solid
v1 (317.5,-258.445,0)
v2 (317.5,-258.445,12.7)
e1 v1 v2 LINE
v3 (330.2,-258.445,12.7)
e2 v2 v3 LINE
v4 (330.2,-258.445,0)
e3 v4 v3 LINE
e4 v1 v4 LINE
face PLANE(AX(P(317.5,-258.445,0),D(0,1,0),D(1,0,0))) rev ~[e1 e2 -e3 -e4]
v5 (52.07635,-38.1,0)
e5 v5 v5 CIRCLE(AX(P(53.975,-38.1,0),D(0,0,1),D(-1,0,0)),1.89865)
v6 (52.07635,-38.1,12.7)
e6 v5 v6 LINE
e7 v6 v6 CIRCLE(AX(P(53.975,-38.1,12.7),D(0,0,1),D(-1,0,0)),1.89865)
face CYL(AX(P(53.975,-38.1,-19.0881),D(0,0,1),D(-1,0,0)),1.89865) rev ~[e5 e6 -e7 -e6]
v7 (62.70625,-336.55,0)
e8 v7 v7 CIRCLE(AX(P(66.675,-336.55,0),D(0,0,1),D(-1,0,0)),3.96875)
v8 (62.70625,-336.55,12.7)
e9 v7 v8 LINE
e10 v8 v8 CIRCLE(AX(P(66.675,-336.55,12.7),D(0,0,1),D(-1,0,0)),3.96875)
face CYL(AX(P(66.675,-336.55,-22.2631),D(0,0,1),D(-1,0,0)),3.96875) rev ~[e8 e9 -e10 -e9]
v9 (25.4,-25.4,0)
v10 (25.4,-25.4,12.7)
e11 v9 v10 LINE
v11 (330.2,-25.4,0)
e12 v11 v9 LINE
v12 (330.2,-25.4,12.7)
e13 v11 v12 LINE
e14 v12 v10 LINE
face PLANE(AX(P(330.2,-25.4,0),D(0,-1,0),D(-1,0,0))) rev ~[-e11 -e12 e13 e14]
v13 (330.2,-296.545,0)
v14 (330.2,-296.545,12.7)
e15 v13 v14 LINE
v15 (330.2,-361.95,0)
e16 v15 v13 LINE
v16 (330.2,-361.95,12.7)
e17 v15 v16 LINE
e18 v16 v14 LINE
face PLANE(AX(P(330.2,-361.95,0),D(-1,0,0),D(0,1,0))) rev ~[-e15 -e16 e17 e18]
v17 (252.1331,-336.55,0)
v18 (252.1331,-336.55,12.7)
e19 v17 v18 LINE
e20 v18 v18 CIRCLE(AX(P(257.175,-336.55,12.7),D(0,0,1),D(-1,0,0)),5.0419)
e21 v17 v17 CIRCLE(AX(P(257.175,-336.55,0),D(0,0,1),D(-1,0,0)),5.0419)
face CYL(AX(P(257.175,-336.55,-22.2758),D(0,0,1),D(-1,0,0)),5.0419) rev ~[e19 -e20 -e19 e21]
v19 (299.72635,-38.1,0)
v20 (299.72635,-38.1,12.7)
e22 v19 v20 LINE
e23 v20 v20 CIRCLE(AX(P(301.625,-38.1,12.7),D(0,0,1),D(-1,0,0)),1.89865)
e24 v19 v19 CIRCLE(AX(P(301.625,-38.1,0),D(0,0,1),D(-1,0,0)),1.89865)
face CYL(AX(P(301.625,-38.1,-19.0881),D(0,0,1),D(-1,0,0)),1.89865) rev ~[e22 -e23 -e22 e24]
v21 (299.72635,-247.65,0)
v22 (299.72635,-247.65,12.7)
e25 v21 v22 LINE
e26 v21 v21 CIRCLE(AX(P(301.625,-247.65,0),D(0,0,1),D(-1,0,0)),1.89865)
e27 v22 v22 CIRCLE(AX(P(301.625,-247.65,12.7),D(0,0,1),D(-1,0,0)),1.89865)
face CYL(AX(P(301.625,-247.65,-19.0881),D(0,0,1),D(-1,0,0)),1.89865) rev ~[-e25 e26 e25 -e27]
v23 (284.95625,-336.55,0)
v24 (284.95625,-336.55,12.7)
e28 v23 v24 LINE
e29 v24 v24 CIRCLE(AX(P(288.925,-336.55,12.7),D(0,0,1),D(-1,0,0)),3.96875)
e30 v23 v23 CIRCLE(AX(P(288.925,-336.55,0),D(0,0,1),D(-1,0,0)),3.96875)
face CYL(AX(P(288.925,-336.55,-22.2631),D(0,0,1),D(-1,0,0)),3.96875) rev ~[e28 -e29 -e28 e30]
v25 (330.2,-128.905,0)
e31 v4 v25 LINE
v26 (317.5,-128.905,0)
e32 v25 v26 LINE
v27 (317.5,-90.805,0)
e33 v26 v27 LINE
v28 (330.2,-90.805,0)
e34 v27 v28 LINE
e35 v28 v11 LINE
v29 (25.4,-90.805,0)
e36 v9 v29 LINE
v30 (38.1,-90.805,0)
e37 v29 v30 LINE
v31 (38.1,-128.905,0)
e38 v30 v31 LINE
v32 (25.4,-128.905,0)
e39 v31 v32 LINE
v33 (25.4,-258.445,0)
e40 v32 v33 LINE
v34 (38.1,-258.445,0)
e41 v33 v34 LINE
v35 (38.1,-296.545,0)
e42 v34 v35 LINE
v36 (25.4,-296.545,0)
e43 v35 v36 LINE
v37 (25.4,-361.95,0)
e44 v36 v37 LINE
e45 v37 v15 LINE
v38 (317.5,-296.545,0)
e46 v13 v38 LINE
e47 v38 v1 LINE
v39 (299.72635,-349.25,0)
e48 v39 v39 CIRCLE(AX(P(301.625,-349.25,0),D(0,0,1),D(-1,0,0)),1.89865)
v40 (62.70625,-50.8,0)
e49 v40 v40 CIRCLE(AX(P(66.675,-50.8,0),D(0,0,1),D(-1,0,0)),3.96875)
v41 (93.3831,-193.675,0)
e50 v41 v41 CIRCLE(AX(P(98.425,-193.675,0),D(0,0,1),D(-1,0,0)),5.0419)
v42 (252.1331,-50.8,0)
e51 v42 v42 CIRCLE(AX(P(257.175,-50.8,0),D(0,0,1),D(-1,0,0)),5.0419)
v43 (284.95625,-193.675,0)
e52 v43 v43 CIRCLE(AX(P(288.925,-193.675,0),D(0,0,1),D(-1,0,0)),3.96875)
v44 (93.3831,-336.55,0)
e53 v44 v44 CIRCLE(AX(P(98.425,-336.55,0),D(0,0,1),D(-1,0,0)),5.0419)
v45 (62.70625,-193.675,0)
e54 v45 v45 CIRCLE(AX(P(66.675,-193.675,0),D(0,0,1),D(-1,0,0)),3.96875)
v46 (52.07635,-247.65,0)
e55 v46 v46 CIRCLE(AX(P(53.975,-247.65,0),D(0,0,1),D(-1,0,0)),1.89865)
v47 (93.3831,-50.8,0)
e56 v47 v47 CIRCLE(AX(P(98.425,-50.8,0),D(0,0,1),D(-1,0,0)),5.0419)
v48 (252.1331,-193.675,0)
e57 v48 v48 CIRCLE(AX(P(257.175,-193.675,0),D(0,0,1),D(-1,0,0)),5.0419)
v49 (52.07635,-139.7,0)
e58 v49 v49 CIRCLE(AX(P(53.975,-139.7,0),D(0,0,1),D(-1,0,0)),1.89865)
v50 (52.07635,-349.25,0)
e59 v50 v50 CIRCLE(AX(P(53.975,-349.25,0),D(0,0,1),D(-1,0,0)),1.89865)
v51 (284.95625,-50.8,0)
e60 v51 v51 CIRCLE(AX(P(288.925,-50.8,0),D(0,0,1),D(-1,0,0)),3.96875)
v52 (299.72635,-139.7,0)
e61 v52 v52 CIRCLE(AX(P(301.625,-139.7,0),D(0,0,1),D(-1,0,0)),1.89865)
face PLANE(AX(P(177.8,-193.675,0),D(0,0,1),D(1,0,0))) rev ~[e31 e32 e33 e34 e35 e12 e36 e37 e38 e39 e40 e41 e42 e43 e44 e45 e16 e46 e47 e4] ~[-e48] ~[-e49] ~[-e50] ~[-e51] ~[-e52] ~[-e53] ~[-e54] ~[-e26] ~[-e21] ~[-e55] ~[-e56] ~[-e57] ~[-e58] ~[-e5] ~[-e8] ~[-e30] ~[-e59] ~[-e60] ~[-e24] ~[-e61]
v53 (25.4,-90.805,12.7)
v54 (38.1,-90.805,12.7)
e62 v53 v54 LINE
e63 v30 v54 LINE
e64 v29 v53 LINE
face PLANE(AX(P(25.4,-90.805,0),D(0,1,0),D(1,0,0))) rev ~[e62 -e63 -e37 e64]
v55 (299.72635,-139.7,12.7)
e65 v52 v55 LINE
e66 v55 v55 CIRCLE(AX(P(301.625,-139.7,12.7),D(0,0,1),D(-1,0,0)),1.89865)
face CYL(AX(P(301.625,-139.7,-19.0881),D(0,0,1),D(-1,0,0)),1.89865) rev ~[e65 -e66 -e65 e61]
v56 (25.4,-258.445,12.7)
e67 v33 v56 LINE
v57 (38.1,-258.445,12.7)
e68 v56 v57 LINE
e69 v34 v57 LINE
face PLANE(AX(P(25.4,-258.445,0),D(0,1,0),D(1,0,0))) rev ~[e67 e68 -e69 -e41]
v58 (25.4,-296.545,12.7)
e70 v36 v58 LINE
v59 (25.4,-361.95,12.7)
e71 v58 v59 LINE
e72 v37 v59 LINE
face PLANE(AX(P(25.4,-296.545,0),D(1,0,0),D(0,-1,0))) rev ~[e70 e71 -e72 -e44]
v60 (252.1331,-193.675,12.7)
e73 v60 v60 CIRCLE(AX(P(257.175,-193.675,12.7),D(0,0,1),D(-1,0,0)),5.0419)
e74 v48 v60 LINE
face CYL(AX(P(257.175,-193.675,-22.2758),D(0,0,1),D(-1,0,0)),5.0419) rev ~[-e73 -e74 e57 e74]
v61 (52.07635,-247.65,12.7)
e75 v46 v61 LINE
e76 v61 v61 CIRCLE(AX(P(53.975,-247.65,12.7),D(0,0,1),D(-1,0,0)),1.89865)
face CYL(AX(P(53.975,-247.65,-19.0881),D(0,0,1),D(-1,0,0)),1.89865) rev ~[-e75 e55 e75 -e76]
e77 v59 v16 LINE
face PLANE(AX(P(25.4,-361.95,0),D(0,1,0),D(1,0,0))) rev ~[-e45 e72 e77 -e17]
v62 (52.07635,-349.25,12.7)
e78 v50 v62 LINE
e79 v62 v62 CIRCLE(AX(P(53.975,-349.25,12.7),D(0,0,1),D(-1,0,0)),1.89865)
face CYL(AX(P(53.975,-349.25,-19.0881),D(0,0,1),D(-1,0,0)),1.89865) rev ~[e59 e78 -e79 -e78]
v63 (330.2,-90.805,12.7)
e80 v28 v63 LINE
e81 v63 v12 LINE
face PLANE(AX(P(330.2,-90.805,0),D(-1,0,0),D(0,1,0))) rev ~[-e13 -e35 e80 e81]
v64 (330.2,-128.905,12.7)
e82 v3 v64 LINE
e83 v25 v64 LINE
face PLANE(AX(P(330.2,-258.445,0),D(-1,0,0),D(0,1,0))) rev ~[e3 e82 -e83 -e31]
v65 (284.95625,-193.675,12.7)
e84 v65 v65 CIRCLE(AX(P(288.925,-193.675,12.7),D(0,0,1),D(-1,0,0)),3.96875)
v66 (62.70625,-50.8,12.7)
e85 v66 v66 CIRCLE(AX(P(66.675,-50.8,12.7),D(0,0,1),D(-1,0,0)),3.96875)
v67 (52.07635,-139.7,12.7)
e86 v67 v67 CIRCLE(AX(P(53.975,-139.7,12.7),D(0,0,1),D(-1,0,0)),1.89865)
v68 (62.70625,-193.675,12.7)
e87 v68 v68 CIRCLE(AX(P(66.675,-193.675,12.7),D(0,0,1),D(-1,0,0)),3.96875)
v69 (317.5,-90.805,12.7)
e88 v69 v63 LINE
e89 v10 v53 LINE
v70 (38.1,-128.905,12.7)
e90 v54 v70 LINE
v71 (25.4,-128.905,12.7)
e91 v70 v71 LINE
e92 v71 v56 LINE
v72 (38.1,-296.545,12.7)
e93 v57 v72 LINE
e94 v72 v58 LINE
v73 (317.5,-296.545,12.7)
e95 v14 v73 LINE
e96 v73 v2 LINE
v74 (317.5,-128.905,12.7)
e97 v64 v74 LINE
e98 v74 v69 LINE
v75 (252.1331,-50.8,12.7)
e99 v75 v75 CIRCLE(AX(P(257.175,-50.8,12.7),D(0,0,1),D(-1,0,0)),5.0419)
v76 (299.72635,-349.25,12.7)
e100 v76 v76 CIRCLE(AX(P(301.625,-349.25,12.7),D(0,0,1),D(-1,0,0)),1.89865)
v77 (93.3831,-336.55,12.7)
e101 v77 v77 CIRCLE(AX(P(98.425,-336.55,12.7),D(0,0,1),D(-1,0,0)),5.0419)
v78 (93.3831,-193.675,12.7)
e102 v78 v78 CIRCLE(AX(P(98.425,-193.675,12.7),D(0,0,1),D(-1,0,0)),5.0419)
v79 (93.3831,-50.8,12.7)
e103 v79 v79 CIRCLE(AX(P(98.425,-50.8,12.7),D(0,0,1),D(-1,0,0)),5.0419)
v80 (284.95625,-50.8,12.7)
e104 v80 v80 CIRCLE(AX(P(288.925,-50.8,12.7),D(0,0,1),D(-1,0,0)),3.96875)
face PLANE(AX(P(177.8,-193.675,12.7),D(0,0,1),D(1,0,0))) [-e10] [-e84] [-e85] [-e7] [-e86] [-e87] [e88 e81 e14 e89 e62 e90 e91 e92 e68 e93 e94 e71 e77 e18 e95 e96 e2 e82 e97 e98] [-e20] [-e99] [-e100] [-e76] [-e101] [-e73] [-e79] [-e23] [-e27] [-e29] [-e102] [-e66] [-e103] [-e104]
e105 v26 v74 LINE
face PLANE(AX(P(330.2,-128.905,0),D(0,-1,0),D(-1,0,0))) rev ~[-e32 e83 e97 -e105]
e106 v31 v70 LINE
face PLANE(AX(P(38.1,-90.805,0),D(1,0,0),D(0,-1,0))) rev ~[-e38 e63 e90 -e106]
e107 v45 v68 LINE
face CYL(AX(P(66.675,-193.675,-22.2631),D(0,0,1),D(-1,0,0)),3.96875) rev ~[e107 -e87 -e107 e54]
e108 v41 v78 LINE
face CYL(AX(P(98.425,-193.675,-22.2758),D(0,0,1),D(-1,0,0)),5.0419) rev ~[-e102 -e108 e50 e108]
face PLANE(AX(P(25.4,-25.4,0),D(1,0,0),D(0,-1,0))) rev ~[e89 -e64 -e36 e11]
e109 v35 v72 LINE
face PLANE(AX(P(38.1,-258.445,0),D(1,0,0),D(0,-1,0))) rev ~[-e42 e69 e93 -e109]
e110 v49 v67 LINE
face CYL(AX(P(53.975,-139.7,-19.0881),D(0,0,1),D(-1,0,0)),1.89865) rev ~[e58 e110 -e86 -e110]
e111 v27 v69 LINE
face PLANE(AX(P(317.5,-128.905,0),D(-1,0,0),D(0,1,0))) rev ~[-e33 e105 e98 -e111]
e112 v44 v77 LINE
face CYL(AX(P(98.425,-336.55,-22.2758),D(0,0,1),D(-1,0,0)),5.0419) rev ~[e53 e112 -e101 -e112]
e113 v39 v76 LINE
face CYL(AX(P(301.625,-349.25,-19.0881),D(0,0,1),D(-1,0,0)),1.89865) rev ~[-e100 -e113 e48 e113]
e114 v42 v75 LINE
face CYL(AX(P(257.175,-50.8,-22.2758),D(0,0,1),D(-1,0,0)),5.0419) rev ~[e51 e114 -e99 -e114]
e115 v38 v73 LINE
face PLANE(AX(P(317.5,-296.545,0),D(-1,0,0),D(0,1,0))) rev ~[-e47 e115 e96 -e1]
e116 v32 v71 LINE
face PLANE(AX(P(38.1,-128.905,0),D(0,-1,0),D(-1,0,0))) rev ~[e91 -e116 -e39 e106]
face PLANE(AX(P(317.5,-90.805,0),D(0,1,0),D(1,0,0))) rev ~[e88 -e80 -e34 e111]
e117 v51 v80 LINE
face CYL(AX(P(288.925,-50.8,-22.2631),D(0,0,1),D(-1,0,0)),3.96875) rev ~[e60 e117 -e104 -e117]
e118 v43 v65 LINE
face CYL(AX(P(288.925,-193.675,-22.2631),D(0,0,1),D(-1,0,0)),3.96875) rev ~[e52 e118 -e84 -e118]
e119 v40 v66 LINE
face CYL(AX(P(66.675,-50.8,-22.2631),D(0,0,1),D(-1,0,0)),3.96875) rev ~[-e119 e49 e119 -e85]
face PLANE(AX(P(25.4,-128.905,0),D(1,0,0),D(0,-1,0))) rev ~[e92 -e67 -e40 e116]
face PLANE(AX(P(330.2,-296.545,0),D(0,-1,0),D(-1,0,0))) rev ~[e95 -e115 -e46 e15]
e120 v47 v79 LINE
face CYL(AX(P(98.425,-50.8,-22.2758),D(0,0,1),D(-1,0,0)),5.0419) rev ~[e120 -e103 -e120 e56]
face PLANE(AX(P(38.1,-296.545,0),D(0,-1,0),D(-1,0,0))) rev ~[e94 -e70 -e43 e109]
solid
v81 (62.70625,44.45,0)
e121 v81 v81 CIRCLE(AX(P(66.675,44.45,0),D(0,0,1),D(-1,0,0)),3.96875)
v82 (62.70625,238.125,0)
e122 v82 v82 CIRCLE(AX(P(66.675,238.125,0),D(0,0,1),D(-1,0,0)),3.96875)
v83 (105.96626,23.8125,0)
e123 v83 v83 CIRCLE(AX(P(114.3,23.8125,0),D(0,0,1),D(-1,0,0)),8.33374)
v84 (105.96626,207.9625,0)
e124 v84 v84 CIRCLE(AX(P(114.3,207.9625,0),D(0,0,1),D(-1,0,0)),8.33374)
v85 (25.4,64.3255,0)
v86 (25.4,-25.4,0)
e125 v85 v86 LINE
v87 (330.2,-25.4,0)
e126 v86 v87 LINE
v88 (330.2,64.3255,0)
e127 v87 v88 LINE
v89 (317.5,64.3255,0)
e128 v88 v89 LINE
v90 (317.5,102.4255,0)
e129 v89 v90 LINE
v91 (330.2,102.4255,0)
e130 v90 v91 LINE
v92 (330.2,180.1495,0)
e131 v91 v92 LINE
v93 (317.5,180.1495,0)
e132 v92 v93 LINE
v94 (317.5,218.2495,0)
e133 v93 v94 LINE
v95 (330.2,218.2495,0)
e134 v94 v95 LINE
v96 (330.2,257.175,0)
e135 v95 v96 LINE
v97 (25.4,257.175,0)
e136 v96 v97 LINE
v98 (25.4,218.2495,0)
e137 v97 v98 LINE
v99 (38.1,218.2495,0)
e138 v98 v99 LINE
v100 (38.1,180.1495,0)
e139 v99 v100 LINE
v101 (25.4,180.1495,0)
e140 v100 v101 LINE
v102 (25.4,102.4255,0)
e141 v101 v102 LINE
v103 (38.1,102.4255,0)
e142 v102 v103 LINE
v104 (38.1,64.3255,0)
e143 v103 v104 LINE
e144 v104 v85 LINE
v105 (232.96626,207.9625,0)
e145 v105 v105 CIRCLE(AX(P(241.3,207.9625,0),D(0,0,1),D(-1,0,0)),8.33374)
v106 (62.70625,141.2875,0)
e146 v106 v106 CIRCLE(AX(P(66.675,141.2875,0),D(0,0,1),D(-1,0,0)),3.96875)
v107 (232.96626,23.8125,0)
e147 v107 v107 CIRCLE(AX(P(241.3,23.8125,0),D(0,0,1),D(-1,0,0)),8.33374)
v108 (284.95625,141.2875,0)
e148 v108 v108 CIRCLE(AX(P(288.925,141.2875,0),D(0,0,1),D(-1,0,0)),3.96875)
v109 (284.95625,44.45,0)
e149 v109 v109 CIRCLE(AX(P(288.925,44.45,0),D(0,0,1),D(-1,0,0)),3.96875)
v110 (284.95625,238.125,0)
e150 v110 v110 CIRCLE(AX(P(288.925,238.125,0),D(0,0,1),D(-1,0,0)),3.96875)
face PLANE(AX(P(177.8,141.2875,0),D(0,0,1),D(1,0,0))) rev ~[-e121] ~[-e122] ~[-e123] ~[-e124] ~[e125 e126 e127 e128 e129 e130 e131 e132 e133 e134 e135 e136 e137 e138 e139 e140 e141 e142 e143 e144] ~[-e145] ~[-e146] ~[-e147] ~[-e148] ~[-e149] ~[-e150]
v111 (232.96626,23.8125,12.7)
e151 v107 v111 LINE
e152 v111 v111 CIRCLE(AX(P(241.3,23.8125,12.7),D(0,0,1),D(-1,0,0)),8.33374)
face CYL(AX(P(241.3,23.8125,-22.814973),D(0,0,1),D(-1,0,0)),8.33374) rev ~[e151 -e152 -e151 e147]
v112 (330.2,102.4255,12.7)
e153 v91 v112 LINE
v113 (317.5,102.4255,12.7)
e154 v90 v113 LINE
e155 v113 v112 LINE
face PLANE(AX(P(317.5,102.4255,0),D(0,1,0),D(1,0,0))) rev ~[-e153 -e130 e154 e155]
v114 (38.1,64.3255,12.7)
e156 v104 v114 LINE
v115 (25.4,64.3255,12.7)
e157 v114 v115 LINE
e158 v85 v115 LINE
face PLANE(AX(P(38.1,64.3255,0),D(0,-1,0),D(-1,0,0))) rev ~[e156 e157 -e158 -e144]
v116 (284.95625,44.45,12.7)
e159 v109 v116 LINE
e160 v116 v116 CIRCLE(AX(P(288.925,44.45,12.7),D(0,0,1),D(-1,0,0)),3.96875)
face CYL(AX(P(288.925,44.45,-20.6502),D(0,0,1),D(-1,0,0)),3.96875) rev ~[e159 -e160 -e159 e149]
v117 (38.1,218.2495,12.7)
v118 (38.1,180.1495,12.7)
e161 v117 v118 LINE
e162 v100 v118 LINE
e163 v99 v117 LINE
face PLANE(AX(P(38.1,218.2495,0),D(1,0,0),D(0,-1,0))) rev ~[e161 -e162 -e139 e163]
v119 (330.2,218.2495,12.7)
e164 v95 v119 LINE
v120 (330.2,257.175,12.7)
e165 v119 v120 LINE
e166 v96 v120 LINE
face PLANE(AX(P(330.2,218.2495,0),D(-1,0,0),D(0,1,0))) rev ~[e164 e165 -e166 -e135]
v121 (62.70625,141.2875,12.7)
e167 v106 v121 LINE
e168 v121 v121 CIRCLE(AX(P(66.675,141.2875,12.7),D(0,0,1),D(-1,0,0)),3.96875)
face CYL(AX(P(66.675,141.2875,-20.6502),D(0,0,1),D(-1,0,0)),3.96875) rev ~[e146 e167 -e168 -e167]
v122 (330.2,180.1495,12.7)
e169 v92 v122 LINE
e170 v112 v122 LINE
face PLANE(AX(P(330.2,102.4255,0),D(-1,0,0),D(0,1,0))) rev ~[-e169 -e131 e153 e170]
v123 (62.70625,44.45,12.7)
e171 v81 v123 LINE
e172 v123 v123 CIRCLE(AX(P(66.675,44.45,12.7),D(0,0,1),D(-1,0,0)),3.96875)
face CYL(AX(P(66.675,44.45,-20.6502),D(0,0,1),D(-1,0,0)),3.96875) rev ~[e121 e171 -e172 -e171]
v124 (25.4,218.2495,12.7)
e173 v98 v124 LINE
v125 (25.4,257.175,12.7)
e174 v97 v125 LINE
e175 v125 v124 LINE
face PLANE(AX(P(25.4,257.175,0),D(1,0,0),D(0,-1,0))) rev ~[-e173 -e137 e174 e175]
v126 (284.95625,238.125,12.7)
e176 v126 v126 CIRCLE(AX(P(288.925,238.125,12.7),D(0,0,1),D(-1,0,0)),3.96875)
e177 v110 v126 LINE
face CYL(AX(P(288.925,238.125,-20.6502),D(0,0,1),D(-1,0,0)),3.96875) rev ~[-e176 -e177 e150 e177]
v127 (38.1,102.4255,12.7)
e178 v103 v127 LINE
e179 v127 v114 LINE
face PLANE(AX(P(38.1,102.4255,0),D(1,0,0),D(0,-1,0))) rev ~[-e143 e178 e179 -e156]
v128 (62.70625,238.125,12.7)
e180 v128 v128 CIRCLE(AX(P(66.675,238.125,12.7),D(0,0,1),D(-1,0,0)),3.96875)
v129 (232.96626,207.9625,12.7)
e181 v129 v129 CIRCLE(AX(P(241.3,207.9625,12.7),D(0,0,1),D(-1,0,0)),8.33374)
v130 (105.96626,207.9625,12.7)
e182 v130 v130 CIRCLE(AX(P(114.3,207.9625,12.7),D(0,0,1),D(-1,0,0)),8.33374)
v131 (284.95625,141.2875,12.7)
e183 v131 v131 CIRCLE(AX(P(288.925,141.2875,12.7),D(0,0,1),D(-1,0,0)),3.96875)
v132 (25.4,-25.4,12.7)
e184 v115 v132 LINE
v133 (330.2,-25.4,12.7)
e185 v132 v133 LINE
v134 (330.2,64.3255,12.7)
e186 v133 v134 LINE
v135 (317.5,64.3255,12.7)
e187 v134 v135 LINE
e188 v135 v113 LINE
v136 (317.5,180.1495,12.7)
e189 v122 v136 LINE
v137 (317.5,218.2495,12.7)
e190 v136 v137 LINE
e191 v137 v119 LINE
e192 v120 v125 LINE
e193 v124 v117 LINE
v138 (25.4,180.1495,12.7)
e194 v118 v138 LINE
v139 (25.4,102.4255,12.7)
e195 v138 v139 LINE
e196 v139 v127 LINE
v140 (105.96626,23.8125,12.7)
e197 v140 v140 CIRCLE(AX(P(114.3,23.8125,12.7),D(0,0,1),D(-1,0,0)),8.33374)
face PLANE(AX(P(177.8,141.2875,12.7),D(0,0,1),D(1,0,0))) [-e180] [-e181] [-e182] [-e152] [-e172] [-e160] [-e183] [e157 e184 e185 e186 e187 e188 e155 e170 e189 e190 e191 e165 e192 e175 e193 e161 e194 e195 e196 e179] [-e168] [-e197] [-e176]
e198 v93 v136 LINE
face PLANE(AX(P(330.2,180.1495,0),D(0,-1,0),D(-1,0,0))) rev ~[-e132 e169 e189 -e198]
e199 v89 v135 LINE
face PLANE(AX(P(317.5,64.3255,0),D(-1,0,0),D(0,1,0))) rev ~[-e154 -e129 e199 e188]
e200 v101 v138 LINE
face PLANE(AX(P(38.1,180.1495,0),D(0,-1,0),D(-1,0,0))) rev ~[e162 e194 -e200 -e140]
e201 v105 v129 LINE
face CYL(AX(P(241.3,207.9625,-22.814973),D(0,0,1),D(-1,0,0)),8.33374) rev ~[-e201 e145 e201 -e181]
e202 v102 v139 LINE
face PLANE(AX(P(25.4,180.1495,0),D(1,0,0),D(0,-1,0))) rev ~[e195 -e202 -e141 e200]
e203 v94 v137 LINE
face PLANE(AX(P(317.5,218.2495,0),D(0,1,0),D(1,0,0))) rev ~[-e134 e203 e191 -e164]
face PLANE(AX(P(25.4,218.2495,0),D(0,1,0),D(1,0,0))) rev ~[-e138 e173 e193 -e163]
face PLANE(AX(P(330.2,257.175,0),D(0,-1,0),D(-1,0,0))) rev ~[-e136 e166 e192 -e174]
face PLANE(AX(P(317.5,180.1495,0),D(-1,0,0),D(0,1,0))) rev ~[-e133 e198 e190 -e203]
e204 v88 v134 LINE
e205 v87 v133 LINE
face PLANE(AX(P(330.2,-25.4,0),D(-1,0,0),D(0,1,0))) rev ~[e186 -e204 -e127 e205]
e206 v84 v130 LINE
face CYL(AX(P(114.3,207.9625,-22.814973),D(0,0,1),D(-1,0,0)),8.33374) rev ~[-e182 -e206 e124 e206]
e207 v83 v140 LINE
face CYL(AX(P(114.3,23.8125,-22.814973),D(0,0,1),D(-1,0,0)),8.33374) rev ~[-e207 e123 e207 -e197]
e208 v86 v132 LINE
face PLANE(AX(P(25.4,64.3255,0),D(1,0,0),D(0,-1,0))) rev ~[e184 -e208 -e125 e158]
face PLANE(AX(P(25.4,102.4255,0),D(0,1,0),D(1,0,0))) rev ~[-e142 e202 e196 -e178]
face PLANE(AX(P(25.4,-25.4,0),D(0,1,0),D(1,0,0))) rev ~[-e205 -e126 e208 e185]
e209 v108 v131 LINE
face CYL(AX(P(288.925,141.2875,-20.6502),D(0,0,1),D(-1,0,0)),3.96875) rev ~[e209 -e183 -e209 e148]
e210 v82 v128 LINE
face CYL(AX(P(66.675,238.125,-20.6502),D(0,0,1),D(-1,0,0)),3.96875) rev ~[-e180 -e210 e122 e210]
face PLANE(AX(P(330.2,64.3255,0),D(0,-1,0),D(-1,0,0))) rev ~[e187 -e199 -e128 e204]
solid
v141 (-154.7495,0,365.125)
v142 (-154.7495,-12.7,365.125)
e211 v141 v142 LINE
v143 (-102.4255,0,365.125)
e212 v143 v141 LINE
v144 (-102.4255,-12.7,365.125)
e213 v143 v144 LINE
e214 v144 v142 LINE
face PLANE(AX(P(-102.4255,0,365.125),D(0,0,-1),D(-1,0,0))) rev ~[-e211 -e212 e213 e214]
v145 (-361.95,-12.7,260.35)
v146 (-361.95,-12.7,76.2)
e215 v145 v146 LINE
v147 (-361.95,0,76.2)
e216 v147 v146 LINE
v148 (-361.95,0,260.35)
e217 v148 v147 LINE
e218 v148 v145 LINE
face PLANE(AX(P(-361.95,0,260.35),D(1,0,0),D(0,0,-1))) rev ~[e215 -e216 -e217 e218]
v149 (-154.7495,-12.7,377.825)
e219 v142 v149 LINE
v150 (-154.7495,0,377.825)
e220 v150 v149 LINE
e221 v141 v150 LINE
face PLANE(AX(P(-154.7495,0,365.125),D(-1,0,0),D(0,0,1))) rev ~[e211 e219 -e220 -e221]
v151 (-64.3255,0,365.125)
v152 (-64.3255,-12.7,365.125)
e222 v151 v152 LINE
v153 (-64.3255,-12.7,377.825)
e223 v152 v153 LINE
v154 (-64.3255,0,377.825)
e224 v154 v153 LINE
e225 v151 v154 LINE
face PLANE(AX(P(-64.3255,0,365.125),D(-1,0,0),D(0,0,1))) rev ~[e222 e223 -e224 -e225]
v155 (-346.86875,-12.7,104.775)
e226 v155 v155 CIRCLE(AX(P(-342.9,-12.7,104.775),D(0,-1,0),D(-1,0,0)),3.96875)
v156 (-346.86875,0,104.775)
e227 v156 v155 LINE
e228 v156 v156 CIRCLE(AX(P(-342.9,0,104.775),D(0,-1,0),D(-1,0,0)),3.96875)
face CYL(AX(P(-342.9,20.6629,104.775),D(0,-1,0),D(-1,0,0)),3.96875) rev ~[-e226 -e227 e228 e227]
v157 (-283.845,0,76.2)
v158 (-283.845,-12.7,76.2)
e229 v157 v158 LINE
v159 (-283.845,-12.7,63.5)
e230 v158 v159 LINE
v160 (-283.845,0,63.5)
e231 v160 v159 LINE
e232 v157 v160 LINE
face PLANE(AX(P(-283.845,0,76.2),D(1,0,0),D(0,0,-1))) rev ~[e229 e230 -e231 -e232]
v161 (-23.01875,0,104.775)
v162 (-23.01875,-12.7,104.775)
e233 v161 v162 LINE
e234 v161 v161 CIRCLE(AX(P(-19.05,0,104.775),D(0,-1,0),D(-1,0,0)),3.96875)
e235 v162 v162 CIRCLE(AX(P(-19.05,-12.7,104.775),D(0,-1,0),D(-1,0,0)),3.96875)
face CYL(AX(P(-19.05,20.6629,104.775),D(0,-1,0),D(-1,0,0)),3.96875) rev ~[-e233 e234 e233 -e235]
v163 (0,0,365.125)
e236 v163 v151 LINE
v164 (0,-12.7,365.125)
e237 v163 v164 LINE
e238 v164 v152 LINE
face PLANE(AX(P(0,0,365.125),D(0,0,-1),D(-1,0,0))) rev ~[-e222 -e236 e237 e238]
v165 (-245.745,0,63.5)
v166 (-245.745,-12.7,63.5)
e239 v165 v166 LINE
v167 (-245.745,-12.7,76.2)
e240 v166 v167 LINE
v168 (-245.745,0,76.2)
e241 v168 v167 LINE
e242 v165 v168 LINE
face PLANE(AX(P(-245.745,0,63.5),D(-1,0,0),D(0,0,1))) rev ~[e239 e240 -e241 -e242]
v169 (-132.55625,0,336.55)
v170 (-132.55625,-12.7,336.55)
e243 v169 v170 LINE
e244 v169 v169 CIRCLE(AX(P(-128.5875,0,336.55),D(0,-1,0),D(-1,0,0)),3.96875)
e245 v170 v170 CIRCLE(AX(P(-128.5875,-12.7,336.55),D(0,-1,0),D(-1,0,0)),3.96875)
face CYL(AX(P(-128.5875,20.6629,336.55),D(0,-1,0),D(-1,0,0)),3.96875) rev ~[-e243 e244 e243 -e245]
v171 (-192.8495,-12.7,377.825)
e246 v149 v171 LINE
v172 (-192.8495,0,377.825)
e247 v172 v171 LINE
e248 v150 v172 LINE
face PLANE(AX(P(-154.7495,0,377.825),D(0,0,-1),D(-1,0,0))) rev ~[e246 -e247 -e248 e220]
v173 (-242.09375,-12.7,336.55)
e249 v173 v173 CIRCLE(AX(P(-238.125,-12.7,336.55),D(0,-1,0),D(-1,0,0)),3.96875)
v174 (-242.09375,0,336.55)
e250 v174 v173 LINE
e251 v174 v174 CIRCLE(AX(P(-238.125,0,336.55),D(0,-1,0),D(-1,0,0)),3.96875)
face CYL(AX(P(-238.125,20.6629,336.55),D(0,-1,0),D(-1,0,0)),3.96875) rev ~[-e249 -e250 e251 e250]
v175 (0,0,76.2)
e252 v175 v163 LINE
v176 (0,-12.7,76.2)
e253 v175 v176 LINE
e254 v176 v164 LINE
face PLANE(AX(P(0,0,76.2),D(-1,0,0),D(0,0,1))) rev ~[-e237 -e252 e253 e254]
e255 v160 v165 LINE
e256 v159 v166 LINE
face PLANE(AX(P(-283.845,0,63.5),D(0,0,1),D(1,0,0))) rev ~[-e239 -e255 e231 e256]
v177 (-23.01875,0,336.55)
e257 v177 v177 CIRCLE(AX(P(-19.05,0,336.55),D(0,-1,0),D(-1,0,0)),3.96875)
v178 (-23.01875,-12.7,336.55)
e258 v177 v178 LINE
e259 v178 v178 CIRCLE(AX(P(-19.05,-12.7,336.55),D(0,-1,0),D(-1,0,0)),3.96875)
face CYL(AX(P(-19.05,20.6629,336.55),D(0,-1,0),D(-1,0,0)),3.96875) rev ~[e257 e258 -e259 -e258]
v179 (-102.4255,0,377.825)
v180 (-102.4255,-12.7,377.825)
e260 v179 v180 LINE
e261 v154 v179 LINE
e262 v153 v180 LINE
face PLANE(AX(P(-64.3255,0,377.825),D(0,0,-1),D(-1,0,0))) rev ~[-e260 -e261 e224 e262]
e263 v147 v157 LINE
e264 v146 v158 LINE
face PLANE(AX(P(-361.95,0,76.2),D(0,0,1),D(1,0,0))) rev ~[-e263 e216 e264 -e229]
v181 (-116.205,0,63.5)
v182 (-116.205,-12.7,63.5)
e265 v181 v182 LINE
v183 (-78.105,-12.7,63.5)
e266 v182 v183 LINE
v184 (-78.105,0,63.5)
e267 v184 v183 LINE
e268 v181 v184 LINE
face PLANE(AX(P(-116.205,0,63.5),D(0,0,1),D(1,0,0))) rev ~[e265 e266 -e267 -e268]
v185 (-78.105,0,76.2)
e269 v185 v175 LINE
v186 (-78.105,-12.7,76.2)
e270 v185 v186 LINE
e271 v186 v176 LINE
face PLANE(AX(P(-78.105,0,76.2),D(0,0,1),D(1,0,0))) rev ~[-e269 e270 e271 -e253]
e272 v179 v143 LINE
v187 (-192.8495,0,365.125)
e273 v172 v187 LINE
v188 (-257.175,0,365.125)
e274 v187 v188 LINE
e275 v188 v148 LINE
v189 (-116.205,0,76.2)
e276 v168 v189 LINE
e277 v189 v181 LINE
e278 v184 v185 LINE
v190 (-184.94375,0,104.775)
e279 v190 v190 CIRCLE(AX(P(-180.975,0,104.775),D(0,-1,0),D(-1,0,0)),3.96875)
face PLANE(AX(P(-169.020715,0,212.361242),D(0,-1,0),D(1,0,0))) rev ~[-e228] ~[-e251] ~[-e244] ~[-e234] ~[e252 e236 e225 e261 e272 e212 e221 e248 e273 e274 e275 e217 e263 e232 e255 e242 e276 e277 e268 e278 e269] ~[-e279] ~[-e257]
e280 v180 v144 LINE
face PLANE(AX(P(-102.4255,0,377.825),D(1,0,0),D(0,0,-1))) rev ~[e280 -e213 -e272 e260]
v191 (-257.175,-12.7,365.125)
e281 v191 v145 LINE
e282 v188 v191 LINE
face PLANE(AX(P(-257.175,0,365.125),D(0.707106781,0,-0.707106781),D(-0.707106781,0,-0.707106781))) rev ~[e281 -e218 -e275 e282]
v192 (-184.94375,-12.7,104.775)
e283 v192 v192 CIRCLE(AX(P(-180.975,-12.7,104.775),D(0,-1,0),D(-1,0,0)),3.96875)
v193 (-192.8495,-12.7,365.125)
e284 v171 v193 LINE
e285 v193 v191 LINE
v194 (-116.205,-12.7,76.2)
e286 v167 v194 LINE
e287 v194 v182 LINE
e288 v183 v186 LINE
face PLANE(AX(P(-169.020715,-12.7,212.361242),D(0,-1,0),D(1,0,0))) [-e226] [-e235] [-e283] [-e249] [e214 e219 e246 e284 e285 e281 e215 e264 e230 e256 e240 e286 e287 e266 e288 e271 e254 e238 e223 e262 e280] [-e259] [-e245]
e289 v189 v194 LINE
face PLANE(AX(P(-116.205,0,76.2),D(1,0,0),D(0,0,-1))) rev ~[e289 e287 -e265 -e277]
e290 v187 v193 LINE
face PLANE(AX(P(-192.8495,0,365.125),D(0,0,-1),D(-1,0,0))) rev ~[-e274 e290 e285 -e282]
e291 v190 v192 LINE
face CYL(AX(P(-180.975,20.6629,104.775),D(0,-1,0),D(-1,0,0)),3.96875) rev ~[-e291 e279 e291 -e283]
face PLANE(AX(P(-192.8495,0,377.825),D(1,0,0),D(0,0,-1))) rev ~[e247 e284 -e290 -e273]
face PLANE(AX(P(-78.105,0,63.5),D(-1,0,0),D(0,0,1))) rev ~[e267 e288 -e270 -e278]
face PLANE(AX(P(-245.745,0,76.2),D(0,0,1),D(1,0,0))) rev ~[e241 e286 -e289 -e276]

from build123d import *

# Parameters (mm, degrees)
F1_DEPTH  = 12.7
F2_W      = 304.8
F2_H      = 50.8
F3_DEPTH  = 12.7
F4_D      = 7.9375
F4_DEPTH  = 20.6502
F4_TIP    = 2.3846655818
F5_D      = 16.66748
F5_DEPTH  = 22.8149727273
F5_TIP    = 5.0074161752
F7_D      = 7.9375
F7_DEPTH  = 20.6629
F7_TIP    = 2.3846655818
F8_DEPTH  = 12.7
F9_D      = 3.7973
F9_DEPTH  = 19.0881
F9_TIP    = 1.1408240143
F10_D     = 7.9375
F10_DEPTH = 22.2631
F10_TIP   = 2.3846655818
F11_D     = 10.0838
F11_DEPTH = 22.2758
F11_TIP   = 3.0294791551


with BuildPart() as f1:
    # F0 (on Front) → F1 (new body)
    with BuildSketch(Plane.XZ):
        Polygon((-78.105, 76.2), (0, 76.2), (0, 365.125), (-64.3255, 365.125), (-64.3255, 377.825), (-102.4255, 377.825), (-102.4255, 365.125), (-154.7495, 365.125), (-154.7495, 377.825), (-192.8495, 377.825), (-192.8495, 365.125), (-257.175, 365.125), (-361.95, 260.35), (-361.95, 76.2), (-283.845, 76.2), (-283.845, 63.5), (-245.745, 63.5), (-245.745, 76.2), (-116.205, 76.2), (-116.205, 63.5), (-78.105, 63.5), align=None)
    extrude(amount=F1_DEPTH)

    # F7
    with Locations(Plane(origin=(0, 0, 0), x_dir=(1, 0, 0), z_dir=(0, 1, 0))):
        with Locations((-238.125, -336.55), (-19.05, -336.55), (-128.5875, -336.55), (-342.9, -104.775), (-180.975, -104.775), (-19.05, -104.775)):
            Hole(F7_D / 2, depth=F7_DEPTH)
            with Locations((0, 0, -(F7_DEPTH + F7_TIP / 2))):  # 118° drill point
                Cone(0, F7_D / 2, F7_TIP, mode=Mode.SUBTRACT)


with BuildPart() as f3:
    # F2 (on Top) → F3 (new body)
    with BuildSketch(Plane.XY):
        Polygon((25.4, 64.3255), (25.4, 25.4), (330.2, 25.4), (330.2, 64.3255), (317.5, 64.3255), (317.5, 102.4255), (330.2, 102.4255), (330.2, 180.1495), (317.5, 180.1495), (317.5, 218.2495), (330.2, 218.2495), (330.2, 257.175), (25.4, 257.175), (25.4, 218.2495), (38.1, 218.2495), (38.1, 180.1495), (25.4, 180.1495), (25.4, 102.4255), (38.1, 102.4255), (38.1, 64.3255), align=None)
        with Locations((177.8, 0)):
            Rectangle(F2_W, F2_H)
    extrude(amount=F3_DEPTH)

    # F4
    with Locations(Plane(origin=(0, 0, 0), x_dir=(1, 0, 0), z_dir=(0, 0, -1))):
        with Locations((66.675, -238.125), (66.675, -141.2875), (66.675, -44.45), (288.925, -238.125), (288.925, -141.2875), (288.925, -44.45)):
            Hole(F4_D / 2, depth=F4_DEPTH)
            with Locations((0, 0, -(F4_DEPTH + F4_TIP / 2))):  # 118° drill point
                Cone(0, F4_D / 2, F4_TIP, mode=Mode.SUBTRACT)

    # F5
    with Locations(Plane(origin=(0, 0, 0), x_dir=(1, 0, 0), z_dir=(0, 0, -1))):
        with Locations((114.3, -207.9625), (114.3, -23.8125), (241.3, -23.8125), (241.3, -207.9625)):
            Hole(F5_D / 2, depth=F5_DEPTH)
            with Locations((0, 0, -(F5_DEPTH + F5_TIP / 2))):  # 118° drill point
                Cone(0, F5_D / 2, F5_TIP, mode=Mode.SUBTRACT)


with BuildPart() as f8:
    # F6 (on Top) → F8 (new body)
    with BuildSketch(Plane.XY):
        Polygon((330.2, -25.4), (25.4, -25.4), (25.4, -90.805), (38.1, -90.805), (38.1, -128.905), (25.4, -128.905), (25.4, -258.445), (38.1, -258.445), (38.1, -296.545), (25.4, -296.545), (25.4, -361.95), (330.2, -361.95), (330.2, -296.545), (317.5, -296.545), (317.5, -258.445), (330.2, -258.445), (330.2, -128.905), (317.5, -128.905), (317.5, -90.805), (330.2, -90.805), align=None)
    extrude(amount=F8_DEPTH)

    # F9
    with Locations(Plane(origin=(0, 0, 0), x_dir=(1, 0, 0), z_dir=(0, 0, -1))):
        with Locations((301.625, 349.25), (301.625, 247.65), (301.625, 139.7), (301.625, 38.1), (53.975, 349.25), (53.975, 247.65), (53.975, 139.7), (53.975, 38.1)):
            Hole(F9_D / 2, depth=F9_DEPTH)
            with Locations((0, 0, -(F9_DEPTH + F9_TIP / 2))):  # 118° drill point
                Cone(0, F9_D / 2, F9_TIP, mode=Mode.SUBTRACT)

    # F10
    with Locations(Plane(origin=(0, 0, 0), x_dir=(1, 0, 0), z_dir=(0, 0, -1))):
        with Locations((288.925, 336.55), (288.925, 193.675), (288.925, 50.8), (66.675, 336.55), (66.675, 193.675), (66.675, 50.8)):
            Hole(F10_D / 2, depth=F10_DEPTH)
            with Locations((0, 0, -(F10_DEPTH + F10_TIP / 2))):  # 118° drill point
                Cone(0, F10_D / 2, F10_TIP, mode=Mode.SUBTRACT)

    # F11
    with Locations(Plane(origin=(0, 0, 0), x_dir=(1, 0, 0), z_dir=(0, 0, -1))):
        with Locations((257.175, 336.55), (257.175, 193.675), (98.425, 193.675), (98.425, 336.55), (98.425, 50.8), (257.175, 50.8)):
            Hole(F11_D / 2, depth=F11_DEPTH)
            with Locations((0, 0, -(F11_DEPTH + F11_TIP / 2))):  # 118° drill point
                Cone(0, F11_D / 2, F11_TIP, mode=Mode.SUBTRACT)


solid = Compound([f1.part, f3.part, f8.part])
